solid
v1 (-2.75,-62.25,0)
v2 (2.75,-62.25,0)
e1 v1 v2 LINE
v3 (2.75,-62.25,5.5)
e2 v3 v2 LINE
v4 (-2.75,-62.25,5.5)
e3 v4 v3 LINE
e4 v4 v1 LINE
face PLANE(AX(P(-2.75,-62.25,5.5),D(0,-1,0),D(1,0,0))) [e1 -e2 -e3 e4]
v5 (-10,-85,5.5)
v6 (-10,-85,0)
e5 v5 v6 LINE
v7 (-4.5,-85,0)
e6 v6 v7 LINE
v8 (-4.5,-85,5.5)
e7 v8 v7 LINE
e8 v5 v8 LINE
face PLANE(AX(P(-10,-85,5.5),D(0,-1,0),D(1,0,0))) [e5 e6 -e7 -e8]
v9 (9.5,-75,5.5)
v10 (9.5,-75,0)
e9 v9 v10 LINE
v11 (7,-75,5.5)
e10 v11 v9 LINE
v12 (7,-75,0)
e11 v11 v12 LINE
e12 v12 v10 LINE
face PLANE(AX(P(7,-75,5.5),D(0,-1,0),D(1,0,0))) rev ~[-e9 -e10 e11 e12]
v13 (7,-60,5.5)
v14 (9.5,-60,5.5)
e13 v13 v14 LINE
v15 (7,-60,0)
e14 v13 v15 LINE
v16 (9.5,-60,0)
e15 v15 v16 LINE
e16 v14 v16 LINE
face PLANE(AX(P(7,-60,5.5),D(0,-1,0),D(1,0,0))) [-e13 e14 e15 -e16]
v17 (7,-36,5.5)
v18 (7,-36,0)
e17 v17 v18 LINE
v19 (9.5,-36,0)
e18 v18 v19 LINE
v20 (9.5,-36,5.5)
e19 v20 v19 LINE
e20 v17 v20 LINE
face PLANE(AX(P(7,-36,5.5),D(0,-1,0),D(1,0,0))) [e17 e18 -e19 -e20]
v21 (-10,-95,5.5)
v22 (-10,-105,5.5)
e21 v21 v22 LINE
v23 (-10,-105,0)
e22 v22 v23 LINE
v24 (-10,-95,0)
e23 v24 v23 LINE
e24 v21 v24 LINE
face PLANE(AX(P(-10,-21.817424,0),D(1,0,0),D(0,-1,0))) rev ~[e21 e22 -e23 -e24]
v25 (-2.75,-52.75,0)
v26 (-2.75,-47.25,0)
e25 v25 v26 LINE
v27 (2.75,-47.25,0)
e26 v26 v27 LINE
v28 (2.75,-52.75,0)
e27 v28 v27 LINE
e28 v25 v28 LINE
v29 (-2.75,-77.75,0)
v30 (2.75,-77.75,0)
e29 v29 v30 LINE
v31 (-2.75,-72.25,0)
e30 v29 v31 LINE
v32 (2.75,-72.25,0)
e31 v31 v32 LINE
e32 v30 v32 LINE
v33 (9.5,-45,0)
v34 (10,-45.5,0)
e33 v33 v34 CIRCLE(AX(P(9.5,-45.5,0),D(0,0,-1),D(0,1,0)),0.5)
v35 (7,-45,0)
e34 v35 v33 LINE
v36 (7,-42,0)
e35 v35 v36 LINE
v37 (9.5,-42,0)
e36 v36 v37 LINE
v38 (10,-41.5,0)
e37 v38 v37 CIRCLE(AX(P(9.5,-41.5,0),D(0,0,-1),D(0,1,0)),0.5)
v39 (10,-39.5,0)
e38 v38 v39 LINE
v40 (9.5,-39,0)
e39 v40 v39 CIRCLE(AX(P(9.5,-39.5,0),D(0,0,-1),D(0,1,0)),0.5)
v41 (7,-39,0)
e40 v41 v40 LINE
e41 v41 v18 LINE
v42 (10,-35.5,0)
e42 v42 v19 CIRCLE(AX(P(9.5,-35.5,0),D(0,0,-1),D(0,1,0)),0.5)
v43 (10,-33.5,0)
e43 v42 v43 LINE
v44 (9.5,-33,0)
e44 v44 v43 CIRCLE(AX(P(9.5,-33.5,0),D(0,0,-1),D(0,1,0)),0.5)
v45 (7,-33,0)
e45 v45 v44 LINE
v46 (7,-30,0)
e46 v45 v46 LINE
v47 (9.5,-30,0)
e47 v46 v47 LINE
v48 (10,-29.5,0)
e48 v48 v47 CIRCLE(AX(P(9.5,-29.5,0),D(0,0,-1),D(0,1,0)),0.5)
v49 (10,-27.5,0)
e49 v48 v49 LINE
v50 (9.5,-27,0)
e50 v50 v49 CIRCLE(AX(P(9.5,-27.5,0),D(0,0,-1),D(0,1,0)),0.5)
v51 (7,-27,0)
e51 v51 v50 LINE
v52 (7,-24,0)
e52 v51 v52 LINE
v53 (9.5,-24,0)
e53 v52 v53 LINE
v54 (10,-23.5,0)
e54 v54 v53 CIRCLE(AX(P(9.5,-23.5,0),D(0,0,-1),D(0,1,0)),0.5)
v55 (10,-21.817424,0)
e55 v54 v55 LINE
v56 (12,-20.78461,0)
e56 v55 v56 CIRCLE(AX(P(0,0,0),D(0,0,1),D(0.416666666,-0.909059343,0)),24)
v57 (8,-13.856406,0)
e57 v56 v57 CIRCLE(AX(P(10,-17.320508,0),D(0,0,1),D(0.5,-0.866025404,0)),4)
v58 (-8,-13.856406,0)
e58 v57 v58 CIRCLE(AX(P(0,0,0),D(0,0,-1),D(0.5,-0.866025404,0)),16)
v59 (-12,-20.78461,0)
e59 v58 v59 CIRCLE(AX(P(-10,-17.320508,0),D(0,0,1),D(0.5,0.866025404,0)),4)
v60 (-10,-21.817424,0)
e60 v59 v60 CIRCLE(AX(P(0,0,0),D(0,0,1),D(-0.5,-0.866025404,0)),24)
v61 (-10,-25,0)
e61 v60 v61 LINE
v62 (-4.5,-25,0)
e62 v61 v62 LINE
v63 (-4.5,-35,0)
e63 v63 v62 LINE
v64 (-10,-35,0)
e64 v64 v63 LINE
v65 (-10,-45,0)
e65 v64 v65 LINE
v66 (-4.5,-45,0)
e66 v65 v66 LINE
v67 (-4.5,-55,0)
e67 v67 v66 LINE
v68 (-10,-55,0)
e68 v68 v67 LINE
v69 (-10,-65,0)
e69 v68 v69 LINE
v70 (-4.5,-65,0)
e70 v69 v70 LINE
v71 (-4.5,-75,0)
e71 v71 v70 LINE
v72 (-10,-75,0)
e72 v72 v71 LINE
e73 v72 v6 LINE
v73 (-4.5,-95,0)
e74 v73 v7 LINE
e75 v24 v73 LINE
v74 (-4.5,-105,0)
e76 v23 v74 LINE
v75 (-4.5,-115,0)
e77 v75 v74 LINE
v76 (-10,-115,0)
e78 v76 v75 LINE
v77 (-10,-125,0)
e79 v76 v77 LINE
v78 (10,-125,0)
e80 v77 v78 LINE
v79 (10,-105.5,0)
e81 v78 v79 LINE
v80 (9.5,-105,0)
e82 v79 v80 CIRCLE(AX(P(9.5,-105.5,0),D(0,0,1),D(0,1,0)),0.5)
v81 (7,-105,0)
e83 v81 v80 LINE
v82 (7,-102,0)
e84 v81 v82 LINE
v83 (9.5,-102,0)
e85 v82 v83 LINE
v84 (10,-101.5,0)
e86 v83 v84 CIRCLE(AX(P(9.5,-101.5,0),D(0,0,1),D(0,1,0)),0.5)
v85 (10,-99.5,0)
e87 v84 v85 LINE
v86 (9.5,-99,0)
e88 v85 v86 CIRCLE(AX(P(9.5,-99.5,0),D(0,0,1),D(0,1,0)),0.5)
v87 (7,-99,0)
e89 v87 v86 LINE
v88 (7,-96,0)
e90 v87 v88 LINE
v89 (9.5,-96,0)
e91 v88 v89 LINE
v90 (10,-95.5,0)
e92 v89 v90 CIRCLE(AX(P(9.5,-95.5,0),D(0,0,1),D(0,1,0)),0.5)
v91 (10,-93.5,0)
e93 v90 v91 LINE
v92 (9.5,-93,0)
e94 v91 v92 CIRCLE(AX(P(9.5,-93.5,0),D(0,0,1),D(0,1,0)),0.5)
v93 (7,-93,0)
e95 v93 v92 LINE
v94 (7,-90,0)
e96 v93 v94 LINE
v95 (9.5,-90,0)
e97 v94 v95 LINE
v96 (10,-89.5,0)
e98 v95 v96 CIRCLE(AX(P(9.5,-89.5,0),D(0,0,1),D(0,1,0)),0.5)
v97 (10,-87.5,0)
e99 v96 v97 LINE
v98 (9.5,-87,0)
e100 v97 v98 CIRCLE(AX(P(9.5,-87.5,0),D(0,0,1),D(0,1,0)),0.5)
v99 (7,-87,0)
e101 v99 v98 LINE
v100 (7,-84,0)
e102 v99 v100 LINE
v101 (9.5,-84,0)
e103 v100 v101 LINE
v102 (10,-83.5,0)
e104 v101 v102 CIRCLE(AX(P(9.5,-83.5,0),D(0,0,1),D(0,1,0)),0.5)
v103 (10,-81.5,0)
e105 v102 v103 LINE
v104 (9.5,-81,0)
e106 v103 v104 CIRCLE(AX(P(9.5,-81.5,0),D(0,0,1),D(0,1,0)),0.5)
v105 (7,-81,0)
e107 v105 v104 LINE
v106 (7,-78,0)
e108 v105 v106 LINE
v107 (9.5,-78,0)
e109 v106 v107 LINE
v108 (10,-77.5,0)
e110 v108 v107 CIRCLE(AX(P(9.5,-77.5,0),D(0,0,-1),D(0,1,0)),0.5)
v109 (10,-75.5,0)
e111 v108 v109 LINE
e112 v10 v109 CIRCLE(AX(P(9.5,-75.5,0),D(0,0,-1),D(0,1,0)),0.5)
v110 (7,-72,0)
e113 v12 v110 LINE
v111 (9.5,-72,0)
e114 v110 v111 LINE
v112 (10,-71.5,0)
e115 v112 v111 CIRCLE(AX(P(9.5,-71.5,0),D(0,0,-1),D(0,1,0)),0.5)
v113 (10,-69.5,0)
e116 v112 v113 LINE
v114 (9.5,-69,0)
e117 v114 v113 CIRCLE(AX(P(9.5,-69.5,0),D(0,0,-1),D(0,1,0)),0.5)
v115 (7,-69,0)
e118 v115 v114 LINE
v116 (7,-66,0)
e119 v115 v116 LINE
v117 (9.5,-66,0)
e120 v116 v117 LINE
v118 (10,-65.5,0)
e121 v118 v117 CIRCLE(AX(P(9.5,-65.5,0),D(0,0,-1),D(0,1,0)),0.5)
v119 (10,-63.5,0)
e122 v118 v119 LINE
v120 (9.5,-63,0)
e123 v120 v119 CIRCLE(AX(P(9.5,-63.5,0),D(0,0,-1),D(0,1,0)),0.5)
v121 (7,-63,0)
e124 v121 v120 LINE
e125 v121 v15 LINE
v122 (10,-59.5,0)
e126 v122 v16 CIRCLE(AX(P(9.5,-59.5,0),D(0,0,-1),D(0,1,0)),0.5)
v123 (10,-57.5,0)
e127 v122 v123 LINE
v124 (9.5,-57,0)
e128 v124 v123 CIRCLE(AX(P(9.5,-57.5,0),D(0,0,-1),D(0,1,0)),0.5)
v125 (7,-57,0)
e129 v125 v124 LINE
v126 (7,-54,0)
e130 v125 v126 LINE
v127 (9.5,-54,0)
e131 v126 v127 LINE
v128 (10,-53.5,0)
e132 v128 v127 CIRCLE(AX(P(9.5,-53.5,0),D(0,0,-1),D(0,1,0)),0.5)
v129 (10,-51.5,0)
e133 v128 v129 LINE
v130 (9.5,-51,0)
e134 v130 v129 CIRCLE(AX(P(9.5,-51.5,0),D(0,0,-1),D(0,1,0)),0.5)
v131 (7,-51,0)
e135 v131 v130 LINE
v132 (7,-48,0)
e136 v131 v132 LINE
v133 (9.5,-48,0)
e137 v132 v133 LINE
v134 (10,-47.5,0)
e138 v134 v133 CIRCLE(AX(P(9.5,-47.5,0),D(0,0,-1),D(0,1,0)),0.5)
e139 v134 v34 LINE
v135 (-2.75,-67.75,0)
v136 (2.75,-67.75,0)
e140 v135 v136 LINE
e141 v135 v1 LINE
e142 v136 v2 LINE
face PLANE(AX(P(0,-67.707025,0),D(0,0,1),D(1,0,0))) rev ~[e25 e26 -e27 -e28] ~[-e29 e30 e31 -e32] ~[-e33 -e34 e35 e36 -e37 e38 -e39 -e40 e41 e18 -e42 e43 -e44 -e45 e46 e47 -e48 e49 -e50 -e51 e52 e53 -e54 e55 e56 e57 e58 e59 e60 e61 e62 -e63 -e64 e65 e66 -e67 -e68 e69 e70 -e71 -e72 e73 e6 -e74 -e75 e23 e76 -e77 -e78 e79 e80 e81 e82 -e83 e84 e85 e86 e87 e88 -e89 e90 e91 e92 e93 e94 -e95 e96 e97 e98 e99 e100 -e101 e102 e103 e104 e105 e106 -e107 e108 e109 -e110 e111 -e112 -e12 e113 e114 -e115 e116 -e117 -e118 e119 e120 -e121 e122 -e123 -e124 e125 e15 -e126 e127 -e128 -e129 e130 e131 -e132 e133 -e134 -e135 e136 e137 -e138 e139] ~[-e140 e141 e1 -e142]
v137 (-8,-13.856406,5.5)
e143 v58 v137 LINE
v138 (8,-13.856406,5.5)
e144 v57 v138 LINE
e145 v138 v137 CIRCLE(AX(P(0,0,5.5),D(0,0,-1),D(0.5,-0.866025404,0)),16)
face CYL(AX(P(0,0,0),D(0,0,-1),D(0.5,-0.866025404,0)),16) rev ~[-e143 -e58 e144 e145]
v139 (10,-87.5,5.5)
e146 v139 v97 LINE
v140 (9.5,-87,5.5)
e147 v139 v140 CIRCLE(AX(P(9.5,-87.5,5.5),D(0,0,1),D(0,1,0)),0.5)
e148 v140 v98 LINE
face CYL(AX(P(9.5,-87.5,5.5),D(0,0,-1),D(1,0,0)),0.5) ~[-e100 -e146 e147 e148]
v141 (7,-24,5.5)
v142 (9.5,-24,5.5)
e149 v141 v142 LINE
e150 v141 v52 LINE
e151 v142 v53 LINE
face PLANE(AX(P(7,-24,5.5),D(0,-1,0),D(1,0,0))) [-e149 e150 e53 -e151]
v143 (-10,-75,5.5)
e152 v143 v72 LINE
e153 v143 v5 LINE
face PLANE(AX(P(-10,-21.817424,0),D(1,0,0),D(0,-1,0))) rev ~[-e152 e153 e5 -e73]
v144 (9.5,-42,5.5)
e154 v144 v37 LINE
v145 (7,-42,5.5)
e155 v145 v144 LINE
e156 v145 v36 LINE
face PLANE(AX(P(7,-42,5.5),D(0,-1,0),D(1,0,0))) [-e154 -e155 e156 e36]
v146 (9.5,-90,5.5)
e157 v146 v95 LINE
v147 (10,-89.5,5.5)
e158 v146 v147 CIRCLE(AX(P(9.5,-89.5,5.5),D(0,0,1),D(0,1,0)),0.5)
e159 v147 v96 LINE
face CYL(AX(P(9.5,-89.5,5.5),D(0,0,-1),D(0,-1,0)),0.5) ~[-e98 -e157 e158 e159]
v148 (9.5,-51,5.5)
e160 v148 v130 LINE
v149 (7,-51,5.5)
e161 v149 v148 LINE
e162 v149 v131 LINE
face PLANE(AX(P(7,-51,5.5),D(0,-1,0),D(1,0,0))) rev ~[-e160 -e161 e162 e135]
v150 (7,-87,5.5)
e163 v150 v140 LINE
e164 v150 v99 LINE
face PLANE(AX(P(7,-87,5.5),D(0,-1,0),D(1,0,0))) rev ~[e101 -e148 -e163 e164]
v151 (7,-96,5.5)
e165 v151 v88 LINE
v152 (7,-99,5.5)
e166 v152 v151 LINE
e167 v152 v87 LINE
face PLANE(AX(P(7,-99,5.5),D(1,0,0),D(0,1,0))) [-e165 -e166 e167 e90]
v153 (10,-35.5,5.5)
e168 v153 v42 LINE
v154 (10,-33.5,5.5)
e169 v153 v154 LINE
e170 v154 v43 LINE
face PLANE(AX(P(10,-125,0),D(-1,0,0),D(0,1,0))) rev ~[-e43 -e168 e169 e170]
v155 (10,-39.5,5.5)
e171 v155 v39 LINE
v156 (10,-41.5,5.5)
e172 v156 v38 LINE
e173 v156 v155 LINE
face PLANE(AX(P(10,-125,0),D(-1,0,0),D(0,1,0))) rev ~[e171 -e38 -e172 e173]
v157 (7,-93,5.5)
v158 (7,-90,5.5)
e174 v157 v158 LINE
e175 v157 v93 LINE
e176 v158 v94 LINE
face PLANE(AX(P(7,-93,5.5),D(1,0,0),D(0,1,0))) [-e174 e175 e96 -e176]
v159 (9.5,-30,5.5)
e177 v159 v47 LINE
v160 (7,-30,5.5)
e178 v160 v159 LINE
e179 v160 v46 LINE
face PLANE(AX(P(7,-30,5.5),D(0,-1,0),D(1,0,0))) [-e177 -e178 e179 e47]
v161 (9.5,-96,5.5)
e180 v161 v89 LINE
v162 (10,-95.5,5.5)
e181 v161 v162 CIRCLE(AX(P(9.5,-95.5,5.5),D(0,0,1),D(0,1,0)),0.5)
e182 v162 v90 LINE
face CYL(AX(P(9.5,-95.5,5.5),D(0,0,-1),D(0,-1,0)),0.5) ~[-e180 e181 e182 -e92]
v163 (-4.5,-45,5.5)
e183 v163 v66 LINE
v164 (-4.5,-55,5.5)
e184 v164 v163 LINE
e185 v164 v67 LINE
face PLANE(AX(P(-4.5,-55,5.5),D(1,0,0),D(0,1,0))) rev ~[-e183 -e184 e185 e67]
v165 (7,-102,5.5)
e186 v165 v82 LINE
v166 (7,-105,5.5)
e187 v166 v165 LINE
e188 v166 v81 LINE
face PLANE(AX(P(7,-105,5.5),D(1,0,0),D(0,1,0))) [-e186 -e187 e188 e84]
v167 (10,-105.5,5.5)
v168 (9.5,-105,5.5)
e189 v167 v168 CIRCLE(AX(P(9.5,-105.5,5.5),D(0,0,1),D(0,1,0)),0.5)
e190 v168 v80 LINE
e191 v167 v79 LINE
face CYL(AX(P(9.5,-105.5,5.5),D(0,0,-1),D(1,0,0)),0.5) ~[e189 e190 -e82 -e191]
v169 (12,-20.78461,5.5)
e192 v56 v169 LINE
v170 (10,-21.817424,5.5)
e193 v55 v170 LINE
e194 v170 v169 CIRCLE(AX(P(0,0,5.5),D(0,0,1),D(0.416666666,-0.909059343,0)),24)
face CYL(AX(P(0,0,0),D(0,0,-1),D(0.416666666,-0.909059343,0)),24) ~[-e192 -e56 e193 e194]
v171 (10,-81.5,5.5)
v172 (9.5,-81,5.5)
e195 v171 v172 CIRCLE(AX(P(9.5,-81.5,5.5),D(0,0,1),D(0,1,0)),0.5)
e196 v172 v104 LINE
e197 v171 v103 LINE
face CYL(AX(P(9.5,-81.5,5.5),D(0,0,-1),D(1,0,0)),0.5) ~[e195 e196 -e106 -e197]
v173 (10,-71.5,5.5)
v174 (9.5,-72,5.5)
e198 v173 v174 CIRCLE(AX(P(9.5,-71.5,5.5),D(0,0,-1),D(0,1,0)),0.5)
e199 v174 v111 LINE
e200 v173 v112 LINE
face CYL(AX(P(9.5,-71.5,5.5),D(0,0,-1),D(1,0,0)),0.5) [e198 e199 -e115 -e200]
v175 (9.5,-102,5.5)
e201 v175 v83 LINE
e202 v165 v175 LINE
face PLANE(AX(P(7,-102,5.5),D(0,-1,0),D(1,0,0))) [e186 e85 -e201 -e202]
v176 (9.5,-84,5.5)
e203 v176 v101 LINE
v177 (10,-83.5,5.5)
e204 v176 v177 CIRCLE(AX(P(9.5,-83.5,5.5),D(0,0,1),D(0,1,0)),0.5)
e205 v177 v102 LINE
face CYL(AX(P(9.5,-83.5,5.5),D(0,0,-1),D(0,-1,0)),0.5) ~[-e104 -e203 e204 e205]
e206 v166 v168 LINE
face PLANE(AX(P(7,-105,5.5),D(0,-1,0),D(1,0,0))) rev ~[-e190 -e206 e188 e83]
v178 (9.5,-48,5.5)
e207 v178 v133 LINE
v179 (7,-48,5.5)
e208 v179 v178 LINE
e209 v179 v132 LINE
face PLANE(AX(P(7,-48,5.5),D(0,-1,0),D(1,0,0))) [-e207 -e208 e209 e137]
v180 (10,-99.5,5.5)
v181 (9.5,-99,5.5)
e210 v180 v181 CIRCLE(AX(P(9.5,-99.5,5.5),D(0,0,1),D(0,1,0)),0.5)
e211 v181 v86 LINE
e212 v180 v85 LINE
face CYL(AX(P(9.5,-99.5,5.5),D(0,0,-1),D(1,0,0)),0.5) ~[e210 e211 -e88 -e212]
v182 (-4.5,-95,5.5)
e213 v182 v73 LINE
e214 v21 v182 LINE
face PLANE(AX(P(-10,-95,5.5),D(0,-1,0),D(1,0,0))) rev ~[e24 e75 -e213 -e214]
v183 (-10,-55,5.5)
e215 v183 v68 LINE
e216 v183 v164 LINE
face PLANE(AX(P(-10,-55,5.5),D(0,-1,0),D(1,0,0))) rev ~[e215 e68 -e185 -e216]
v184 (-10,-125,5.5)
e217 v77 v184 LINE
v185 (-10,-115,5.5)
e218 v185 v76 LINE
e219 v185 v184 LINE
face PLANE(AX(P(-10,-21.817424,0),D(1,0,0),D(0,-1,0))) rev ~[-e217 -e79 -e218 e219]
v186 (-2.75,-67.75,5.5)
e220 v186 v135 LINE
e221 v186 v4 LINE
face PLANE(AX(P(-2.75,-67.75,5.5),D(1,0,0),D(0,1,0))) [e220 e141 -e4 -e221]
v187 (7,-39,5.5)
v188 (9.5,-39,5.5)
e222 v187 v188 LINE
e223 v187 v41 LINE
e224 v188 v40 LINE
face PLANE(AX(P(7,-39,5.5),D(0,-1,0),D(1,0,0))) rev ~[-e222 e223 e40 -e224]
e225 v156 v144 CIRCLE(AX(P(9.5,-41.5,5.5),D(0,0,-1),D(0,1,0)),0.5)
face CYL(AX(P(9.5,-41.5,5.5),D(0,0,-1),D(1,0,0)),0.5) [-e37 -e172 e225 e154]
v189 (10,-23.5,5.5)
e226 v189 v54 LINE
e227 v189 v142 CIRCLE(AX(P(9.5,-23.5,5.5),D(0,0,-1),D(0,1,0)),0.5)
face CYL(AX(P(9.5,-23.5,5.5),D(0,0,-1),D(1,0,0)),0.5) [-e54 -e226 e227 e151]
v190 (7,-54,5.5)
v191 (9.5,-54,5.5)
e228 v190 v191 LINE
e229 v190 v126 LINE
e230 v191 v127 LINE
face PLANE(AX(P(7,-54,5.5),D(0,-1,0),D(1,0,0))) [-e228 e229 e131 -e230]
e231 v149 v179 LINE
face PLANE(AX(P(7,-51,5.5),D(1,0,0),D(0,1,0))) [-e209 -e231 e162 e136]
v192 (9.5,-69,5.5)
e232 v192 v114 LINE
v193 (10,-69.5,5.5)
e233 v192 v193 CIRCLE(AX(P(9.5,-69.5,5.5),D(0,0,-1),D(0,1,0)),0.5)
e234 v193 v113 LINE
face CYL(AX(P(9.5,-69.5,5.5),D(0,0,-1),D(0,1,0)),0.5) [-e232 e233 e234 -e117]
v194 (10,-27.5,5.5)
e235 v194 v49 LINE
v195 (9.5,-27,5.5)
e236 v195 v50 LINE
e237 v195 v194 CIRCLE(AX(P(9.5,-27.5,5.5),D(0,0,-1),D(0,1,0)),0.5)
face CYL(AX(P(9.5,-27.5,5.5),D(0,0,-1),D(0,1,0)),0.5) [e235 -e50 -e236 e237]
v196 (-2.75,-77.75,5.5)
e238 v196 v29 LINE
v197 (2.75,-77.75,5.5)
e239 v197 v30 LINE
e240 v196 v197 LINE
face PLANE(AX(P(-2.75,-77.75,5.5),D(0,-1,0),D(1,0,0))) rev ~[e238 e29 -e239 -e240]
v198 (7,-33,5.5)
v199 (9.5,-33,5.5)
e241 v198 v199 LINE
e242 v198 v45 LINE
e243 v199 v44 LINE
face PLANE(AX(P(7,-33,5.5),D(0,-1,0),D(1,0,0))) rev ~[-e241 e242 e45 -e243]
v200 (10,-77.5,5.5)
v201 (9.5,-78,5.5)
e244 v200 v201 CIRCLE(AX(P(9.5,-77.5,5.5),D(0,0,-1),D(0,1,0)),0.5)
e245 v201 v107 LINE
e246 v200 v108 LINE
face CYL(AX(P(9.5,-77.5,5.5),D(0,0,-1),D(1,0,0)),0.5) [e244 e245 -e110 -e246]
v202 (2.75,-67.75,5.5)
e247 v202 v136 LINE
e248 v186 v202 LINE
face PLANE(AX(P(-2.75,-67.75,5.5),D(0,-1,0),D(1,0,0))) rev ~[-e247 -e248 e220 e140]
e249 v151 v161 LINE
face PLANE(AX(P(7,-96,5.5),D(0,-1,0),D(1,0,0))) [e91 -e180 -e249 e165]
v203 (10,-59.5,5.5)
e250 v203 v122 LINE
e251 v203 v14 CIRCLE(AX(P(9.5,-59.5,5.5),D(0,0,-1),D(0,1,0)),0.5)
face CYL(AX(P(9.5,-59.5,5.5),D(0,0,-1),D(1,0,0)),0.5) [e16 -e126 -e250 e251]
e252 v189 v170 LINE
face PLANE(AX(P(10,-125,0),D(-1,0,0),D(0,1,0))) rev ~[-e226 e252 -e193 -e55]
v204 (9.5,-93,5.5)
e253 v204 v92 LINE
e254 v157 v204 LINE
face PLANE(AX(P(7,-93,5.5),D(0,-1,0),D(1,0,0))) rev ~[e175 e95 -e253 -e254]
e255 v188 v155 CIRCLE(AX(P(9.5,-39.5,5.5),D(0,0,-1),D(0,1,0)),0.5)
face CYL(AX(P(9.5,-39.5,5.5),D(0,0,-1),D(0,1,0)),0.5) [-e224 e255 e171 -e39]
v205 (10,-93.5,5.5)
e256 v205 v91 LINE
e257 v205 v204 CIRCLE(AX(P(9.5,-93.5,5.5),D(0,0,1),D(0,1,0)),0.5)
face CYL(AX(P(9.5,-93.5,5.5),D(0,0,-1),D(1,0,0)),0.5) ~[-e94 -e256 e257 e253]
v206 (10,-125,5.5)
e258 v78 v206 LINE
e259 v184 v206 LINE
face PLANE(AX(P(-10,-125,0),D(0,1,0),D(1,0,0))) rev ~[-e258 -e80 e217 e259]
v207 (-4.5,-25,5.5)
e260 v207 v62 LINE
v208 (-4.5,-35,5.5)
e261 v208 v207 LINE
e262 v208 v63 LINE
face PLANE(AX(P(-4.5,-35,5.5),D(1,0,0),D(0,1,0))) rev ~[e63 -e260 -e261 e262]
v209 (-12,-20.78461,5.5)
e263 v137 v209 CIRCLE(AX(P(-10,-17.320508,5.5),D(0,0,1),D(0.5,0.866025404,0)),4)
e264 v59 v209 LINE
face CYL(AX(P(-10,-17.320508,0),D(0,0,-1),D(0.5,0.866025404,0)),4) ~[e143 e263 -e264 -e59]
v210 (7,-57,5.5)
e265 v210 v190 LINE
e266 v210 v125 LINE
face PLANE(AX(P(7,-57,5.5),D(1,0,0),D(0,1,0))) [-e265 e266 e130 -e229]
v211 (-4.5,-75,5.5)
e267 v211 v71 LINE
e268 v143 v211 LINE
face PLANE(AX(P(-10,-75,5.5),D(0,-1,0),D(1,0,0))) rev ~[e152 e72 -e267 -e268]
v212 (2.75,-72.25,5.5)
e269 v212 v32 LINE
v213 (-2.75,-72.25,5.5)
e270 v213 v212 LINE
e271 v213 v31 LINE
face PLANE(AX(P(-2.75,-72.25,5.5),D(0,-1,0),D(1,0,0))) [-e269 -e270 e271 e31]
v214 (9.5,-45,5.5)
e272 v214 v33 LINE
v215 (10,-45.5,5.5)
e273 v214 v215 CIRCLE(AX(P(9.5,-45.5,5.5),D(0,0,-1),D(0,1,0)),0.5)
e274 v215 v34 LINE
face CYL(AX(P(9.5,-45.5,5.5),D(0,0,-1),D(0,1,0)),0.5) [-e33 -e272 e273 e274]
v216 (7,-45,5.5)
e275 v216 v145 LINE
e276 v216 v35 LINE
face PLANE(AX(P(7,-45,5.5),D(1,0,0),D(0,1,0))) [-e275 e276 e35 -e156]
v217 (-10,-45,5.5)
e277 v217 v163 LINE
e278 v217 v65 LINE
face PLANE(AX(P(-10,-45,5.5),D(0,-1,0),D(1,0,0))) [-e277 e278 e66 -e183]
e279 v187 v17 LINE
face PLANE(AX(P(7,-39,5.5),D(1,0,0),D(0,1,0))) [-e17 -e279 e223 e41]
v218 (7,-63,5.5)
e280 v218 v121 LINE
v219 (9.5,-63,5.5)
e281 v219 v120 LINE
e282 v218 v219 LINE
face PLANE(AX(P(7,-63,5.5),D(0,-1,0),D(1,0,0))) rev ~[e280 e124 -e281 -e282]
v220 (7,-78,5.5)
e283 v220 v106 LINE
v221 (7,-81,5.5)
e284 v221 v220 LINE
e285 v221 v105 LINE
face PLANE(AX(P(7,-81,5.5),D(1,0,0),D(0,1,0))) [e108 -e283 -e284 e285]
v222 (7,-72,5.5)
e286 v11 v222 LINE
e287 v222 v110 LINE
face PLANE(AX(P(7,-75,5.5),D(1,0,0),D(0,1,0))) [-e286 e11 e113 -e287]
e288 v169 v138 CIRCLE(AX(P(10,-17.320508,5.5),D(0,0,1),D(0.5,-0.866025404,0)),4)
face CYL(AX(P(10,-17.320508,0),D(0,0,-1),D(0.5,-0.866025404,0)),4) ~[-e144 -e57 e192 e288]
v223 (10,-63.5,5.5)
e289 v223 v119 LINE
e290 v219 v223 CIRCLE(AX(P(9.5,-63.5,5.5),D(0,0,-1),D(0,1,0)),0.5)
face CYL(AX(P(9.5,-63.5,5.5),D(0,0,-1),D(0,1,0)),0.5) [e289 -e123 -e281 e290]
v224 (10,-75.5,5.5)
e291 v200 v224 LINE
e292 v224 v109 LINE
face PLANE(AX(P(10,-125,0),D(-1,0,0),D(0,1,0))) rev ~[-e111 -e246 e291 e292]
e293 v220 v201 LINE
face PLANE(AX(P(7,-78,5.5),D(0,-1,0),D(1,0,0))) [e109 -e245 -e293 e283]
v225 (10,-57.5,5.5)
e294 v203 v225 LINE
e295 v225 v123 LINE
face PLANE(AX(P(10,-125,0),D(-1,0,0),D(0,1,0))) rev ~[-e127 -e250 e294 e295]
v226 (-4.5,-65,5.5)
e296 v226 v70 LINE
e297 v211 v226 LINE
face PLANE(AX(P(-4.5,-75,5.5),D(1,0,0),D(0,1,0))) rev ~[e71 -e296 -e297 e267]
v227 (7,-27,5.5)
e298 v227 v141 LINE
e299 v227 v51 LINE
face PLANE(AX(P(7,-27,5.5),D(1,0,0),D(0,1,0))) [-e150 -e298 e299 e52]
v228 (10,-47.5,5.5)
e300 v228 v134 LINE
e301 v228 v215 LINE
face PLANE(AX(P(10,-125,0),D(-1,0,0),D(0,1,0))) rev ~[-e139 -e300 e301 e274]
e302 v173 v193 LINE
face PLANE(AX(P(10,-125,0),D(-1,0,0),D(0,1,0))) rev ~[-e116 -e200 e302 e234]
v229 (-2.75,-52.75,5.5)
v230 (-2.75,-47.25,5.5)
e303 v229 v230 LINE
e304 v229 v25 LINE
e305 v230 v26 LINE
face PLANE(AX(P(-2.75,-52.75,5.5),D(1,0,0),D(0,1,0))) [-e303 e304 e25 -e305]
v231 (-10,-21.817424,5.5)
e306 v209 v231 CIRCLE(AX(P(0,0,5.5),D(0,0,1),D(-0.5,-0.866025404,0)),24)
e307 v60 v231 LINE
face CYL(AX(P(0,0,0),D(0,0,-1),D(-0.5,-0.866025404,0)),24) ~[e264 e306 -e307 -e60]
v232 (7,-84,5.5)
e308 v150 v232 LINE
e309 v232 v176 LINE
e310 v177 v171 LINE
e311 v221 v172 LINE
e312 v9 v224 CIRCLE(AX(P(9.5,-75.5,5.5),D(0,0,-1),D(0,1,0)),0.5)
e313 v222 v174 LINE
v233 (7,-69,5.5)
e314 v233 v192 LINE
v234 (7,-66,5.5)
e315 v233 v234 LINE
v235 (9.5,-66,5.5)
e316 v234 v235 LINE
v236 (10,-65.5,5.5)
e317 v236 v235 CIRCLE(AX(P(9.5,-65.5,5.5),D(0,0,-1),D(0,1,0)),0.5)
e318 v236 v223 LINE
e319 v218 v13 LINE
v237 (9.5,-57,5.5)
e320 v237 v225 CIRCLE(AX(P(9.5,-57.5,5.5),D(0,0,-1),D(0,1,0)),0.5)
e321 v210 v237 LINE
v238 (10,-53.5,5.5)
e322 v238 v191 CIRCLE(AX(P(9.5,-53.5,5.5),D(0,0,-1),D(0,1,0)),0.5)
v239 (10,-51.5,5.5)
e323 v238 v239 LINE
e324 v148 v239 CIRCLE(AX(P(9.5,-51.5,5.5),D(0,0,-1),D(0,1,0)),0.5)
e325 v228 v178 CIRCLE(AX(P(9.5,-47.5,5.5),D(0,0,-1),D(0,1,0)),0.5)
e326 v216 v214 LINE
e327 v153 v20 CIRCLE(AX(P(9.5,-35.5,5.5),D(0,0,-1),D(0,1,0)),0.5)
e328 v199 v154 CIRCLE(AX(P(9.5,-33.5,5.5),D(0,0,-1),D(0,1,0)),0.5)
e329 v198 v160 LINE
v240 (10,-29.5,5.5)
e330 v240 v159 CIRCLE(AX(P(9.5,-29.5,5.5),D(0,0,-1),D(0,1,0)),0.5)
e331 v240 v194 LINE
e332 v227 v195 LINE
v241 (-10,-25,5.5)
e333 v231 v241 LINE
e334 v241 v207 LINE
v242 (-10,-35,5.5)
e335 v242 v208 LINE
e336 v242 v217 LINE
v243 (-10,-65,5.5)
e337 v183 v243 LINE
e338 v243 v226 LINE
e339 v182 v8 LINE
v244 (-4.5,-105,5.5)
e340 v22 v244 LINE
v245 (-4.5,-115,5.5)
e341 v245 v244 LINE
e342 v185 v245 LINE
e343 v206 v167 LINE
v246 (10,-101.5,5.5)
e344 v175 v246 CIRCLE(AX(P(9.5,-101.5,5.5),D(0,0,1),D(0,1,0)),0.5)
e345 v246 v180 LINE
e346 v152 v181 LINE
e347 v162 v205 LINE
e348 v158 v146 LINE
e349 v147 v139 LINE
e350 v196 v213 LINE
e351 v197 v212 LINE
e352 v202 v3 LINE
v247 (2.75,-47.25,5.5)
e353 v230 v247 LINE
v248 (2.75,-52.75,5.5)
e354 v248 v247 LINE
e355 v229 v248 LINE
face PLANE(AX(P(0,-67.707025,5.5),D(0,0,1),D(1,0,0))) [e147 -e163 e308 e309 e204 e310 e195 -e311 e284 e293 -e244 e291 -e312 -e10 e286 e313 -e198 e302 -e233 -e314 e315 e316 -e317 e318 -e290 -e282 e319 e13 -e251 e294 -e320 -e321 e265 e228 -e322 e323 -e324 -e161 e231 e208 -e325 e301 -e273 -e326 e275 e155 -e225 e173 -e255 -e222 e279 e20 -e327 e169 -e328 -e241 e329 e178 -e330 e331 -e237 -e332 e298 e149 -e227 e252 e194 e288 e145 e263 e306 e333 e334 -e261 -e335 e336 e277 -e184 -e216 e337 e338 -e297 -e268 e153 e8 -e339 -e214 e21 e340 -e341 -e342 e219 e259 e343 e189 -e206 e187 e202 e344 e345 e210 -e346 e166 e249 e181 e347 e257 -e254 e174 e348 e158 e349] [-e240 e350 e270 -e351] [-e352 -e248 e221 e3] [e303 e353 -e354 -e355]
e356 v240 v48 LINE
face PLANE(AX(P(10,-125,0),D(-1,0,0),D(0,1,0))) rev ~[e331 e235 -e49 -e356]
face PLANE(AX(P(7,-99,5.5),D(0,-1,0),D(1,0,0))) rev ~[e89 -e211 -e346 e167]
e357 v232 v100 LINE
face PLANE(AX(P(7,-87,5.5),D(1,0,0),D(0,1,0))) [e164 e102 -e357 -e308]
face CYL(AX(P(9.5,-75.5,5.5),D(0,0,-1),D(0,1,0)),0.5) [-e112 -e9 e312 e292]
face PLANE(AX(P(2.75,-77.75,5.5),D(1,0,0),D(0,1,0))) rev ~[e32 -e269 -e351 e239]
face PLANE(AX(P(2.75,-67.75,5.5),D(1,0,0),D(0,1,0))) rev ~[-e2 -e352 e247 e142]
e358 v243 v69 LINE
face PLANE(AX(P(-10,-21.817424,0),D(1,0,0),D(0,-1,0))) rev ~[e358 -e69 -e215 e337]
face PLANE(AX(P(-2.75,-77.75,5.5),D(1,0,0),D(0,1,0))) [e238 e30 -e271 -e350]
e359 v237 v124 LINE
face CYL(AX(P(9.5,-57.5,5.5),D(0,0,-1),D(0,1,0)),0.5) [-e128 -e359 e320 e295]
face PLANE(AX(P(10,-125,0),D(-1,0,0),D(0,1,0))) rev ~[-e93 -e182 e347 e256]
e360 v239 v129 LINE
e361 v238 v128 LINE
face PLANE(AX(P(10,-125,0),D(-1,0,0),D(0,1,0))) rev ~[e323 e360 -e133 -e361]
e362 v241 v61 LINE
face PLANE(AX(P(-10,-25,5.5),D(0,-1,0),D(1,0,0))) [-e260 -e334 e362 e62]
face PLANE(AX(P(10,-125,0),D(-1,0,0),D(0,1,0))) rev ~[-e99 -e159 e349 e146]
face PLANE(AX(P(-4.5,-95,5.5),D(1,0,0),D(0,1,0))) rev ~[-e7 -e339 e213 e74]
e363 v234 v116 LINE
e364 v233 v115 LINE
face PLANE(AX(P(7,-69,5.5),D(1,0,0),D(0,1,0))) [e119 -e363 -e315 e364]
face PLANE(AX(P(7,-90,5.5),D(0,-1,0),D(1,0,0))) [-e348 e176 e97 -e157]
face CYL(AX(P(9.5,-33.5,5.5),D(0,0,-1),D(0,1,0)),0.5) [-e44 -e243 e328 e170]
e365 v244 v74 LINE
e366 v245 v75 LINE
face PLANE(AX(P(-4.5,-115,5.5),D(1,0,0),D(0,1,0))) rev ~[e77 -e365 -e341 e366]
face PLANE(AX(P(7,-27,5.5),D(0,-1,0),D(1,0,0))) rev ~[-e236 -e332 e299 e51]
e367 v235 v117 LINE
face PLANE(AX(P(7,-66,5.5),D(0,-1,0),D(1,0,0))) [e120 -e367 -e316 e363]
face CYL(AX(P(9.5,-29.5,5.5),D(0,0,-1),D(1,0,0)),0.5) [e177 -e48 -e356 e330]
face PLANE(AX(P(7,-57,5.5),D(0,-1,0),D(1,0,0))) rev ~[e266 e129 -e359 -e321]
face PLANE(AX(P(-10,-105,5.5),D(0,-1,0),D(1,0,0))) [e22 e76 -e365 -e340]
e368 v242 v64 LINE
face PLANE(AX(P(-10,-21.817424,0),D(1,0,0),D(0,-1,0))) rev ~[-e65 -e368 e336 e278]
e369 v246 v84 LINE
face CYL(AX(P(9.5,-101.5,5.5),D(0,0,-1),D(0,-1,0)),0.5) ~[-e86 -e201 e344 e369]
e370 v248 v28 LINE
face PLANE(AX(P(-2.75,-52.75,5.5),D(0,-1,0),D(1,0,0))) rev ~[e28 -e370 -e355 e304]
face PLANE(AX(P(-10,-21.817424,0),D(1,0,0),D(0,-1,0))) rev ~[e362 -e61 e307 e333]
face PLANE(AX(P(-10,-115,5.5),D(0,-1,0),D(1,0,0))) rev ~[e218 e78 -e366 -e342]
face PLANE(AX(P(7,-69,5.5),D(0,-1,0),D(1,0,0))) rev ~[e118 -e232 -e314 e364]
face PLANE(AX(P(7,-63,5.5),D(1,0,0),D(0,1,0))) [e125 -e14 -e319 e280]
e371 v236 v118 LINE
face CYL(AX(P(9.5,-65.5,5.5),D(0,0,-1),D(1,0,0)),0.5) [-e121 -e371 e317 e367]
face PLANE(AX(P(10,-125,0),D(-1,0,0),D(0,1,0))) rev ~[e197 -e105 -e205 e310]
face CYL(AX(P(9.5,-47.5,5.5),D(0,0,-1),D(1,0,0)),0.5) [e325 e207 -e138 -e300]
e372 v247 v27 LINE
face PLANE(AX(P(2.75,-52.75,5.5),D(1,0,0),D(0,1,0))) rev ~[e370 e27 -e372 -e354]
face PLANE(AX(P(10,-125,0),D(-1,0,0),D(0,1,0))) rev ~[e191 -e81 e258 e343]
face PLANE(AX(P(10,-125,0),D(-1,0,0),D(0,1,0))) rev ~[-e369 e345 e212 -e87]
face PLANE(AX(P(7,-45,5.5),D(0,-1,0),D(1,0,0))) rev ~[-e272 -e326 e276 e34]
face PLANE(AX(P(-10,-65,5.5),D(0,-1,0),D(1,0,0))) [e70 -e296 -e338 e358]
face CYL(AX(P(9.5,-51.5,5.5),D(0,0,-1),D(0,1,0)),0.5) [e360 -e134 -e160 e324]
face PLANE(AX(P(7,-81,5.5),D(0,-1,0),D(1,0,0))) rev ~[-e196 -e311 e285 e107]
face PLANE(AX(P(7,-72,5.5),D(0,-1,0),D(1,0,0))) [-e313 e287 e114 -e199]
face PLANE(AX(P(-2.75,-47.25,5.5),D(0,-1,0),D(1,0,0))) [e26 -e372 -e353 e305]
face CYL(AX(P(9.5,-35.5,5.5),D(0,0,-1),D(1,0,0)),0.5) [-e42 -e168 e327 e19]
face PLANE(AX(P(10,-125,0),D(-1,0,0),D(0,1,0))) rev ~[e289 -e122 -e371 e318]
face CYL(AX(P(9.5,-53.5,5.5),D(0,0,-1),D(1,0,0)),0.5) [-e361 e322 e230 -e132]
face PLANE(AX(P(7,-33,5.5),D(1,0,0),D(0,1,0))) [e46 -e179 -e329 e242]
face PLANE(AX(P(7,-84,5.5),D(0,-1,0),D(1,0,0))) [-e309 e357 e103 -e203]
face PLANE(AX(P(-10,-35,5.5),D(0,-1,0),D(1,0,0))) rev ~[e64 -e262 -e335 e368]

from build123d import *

# Parameters (mm, degrees)
EXTRUDE_1_DEPTH     = 5.5
SKETCH_2_W          = 5.5
SKETCH_2_H          = 10
SKETCH_2_W_2        = 3
SKETCH_2_H_2        = 3
CUT_EXTRUDE_1_DEPTH = 126.901747406
SKETCH_5_W          = 5.5
SKETCH_5_H          = 5.5
CUT_EXTRUDE_2_DEPTH = 126.901747406
FILLET_1_R          = 0.5


with BuildPart() as part:
    # ｽｹｯﾁ1 → ﾎﾞｽ - 押し出し1 (new body)
    with BuildSketch(Plane.XY):
        with BuildLine():
            Line((-10, -21.817424229), (-10, -125))
            Line((-10, -125), (10, -125))
            Line((10, -125), (10, -21.817424229))
            ThreePointArc((10, -21.817424229), (11.012114986, -21.324477099), (12, -20.784609691))
            ThreePointArc((12, -20.784609691), (13.464101615, -15.320508076), (8, -13.856406461))
            ThreePointArc((8, -13.856406461), (0, -16), (-8, -13.856406461))
            ThreePointArc((-8, -13.856406461), (-13.464101615, -15.320508076), (-12, -20.784609691))
            ThreePointArc((-12, -20.784609691), (-11.012114986, -21.324477099), (-10, -21.817424229))
        make_face()
    extrude(amount=EXTRUDE_1_DEPTH)

    # ｽｹｯﾁ2 → ｶｯﾄ - 押し出し1 (cut, through all)
    with BuildSketch(Plane.XY.offset(5.5)):
        with Locations((-7.25, -90)):
            Rectangle(SKETCH_2_W, SKETCH_2_H)
        with Locations((-7.25, -110)):
            Rectangle(SKETCH_2_W, SKETCH_2_H)
        with Locations((-7.25, -70)):
            Rectangle(SKETCH_2_W, SKETCH_2_H)
        with Locations((-7.25, -50)):
            Rectangle(SKETCH_2_W, SKETCH_2_H)
        with Locations((-7.25, -30)):
            Rectangle(SKETCH_2_W, SKETCH_2_H)
        with Locations((8.5, -103.5)):
            Rectangle(SKETCH_2_W_2, SKETCH_2_H_2)
        with Locations((8.5, -97.5)):
            Rectangle(SKETCH_2_W_2, SKETCH_2_H_2)
        with Locations((8.5, -91.5)):
            Rectangle(SKETCH_2_W_2, SKETCH_2_H_2)
        with Locations((8.5, -85.5)):
            Rectangle(SKETCH_2_W_2, SKETCH_2_H_2)
        with Locations((8.5, -79.5)):
            Rectangle(SKETCH_2_W_2, SKETCH_2_H_2)
        with Locations((8.5, -73.5)):
            Rectangle(SKETCH_2_W_2, SKETCH_2_H_2)
        with Locations((8.5, -67.5)):
            Rectangle(SKETCH_2_W_2, SKETCH_2_H_2)
        with Locations((8.5, -61.5)):
            Rectangle(SKETCH_2_W_2, SKETCH_2_H_2)
        with Locations((8.5, -55.5)):
            Rectangle(SKETCH_2_W_2, SKETCH_2_H_2)
        with Locations((8.5, -49.5)):
            Rectangle(SKETCH_2_W_2, SKETCH_2_H_2)
        with Locations((8.5, -43.5)):
            Rectangle(SKETCH_2_W_2, SKETCH_2_H_2)
        with Locations((8.5, -37.5)):
            Rectangle(SKETCH_2_W_2, SKETCH_2_H_2)
        with Locations((8.5, -31.5)):
            Rectangle(SKETCH_2_W_2, SKETCH_2_H_2)
        with Locations((8.5, -25.5)):
            Rectangle(SKETCH_2_W_2, SKETCH_2_H_2)
    extrude(amount=-CUT_EXTRUDE_1_DEPTH, mode=Mode.SUBTRACT)

    # ｽｹｯﾁ5 → ｶｯﾄ - 押し出し2 (cut, through all)
    with BuildSketch(Plane.XY.offset(5.5)):
        with Locations((0, -65)):
            Rectangle(SKETCH_5_W, SKETCH_5_H)
        with Locations((0, -50)):
            Rectangle(SKETCH_5_W, SKETCH_5_H)
        with Locations((0, -75)):
            Rectangle(SKETCH_5_W, SKETCH_5_H)
    extrude(amount=-CUT_EXTRUDE_2_DEPTH, mode=Mode.SUBTRACT)

    # ﾌｨﾚｯﾄ1
    fillet_1_edges = [part.edges().sort_by_distance(p)[0] for p in [
        (10, -39, 2.75),
        (10, -36, 2.75),
        (10, -45, 2.75),
        (10, -42, 2.75),
        (10, -51, 2.75),
        (10, -48, 2.75),
        (10, -57, 2.75),
        (10, -54, 2.75),
        (10, -63, 2.75),
        (10, -60, 2.75),
        (10, -69, 2.75),
        (10, -66, 2.75),
        (10, -75, 2.75),
        (10, -72, 2.75),
        (10, -81, 2.75),
        (10, -78, 2.75),
        (10, -87, 2.75),
        (10, -84, 2.75),
        (10, -93, 2.75),
        (10, -90, 2.75),
        (10, -99, 2.75),
        (10, -96, 2.75),
        (10, -102, 2.75),
        (10, -105, 2.75),
        (10, -33, 2.75),
        (10, -30, 2.75),
        (10, -27, 2.75),
        (10, -24, 2.75),
    ]]
    fillet(fillet_1_edges, radius=FILLET_1_R)


solid = part.part
